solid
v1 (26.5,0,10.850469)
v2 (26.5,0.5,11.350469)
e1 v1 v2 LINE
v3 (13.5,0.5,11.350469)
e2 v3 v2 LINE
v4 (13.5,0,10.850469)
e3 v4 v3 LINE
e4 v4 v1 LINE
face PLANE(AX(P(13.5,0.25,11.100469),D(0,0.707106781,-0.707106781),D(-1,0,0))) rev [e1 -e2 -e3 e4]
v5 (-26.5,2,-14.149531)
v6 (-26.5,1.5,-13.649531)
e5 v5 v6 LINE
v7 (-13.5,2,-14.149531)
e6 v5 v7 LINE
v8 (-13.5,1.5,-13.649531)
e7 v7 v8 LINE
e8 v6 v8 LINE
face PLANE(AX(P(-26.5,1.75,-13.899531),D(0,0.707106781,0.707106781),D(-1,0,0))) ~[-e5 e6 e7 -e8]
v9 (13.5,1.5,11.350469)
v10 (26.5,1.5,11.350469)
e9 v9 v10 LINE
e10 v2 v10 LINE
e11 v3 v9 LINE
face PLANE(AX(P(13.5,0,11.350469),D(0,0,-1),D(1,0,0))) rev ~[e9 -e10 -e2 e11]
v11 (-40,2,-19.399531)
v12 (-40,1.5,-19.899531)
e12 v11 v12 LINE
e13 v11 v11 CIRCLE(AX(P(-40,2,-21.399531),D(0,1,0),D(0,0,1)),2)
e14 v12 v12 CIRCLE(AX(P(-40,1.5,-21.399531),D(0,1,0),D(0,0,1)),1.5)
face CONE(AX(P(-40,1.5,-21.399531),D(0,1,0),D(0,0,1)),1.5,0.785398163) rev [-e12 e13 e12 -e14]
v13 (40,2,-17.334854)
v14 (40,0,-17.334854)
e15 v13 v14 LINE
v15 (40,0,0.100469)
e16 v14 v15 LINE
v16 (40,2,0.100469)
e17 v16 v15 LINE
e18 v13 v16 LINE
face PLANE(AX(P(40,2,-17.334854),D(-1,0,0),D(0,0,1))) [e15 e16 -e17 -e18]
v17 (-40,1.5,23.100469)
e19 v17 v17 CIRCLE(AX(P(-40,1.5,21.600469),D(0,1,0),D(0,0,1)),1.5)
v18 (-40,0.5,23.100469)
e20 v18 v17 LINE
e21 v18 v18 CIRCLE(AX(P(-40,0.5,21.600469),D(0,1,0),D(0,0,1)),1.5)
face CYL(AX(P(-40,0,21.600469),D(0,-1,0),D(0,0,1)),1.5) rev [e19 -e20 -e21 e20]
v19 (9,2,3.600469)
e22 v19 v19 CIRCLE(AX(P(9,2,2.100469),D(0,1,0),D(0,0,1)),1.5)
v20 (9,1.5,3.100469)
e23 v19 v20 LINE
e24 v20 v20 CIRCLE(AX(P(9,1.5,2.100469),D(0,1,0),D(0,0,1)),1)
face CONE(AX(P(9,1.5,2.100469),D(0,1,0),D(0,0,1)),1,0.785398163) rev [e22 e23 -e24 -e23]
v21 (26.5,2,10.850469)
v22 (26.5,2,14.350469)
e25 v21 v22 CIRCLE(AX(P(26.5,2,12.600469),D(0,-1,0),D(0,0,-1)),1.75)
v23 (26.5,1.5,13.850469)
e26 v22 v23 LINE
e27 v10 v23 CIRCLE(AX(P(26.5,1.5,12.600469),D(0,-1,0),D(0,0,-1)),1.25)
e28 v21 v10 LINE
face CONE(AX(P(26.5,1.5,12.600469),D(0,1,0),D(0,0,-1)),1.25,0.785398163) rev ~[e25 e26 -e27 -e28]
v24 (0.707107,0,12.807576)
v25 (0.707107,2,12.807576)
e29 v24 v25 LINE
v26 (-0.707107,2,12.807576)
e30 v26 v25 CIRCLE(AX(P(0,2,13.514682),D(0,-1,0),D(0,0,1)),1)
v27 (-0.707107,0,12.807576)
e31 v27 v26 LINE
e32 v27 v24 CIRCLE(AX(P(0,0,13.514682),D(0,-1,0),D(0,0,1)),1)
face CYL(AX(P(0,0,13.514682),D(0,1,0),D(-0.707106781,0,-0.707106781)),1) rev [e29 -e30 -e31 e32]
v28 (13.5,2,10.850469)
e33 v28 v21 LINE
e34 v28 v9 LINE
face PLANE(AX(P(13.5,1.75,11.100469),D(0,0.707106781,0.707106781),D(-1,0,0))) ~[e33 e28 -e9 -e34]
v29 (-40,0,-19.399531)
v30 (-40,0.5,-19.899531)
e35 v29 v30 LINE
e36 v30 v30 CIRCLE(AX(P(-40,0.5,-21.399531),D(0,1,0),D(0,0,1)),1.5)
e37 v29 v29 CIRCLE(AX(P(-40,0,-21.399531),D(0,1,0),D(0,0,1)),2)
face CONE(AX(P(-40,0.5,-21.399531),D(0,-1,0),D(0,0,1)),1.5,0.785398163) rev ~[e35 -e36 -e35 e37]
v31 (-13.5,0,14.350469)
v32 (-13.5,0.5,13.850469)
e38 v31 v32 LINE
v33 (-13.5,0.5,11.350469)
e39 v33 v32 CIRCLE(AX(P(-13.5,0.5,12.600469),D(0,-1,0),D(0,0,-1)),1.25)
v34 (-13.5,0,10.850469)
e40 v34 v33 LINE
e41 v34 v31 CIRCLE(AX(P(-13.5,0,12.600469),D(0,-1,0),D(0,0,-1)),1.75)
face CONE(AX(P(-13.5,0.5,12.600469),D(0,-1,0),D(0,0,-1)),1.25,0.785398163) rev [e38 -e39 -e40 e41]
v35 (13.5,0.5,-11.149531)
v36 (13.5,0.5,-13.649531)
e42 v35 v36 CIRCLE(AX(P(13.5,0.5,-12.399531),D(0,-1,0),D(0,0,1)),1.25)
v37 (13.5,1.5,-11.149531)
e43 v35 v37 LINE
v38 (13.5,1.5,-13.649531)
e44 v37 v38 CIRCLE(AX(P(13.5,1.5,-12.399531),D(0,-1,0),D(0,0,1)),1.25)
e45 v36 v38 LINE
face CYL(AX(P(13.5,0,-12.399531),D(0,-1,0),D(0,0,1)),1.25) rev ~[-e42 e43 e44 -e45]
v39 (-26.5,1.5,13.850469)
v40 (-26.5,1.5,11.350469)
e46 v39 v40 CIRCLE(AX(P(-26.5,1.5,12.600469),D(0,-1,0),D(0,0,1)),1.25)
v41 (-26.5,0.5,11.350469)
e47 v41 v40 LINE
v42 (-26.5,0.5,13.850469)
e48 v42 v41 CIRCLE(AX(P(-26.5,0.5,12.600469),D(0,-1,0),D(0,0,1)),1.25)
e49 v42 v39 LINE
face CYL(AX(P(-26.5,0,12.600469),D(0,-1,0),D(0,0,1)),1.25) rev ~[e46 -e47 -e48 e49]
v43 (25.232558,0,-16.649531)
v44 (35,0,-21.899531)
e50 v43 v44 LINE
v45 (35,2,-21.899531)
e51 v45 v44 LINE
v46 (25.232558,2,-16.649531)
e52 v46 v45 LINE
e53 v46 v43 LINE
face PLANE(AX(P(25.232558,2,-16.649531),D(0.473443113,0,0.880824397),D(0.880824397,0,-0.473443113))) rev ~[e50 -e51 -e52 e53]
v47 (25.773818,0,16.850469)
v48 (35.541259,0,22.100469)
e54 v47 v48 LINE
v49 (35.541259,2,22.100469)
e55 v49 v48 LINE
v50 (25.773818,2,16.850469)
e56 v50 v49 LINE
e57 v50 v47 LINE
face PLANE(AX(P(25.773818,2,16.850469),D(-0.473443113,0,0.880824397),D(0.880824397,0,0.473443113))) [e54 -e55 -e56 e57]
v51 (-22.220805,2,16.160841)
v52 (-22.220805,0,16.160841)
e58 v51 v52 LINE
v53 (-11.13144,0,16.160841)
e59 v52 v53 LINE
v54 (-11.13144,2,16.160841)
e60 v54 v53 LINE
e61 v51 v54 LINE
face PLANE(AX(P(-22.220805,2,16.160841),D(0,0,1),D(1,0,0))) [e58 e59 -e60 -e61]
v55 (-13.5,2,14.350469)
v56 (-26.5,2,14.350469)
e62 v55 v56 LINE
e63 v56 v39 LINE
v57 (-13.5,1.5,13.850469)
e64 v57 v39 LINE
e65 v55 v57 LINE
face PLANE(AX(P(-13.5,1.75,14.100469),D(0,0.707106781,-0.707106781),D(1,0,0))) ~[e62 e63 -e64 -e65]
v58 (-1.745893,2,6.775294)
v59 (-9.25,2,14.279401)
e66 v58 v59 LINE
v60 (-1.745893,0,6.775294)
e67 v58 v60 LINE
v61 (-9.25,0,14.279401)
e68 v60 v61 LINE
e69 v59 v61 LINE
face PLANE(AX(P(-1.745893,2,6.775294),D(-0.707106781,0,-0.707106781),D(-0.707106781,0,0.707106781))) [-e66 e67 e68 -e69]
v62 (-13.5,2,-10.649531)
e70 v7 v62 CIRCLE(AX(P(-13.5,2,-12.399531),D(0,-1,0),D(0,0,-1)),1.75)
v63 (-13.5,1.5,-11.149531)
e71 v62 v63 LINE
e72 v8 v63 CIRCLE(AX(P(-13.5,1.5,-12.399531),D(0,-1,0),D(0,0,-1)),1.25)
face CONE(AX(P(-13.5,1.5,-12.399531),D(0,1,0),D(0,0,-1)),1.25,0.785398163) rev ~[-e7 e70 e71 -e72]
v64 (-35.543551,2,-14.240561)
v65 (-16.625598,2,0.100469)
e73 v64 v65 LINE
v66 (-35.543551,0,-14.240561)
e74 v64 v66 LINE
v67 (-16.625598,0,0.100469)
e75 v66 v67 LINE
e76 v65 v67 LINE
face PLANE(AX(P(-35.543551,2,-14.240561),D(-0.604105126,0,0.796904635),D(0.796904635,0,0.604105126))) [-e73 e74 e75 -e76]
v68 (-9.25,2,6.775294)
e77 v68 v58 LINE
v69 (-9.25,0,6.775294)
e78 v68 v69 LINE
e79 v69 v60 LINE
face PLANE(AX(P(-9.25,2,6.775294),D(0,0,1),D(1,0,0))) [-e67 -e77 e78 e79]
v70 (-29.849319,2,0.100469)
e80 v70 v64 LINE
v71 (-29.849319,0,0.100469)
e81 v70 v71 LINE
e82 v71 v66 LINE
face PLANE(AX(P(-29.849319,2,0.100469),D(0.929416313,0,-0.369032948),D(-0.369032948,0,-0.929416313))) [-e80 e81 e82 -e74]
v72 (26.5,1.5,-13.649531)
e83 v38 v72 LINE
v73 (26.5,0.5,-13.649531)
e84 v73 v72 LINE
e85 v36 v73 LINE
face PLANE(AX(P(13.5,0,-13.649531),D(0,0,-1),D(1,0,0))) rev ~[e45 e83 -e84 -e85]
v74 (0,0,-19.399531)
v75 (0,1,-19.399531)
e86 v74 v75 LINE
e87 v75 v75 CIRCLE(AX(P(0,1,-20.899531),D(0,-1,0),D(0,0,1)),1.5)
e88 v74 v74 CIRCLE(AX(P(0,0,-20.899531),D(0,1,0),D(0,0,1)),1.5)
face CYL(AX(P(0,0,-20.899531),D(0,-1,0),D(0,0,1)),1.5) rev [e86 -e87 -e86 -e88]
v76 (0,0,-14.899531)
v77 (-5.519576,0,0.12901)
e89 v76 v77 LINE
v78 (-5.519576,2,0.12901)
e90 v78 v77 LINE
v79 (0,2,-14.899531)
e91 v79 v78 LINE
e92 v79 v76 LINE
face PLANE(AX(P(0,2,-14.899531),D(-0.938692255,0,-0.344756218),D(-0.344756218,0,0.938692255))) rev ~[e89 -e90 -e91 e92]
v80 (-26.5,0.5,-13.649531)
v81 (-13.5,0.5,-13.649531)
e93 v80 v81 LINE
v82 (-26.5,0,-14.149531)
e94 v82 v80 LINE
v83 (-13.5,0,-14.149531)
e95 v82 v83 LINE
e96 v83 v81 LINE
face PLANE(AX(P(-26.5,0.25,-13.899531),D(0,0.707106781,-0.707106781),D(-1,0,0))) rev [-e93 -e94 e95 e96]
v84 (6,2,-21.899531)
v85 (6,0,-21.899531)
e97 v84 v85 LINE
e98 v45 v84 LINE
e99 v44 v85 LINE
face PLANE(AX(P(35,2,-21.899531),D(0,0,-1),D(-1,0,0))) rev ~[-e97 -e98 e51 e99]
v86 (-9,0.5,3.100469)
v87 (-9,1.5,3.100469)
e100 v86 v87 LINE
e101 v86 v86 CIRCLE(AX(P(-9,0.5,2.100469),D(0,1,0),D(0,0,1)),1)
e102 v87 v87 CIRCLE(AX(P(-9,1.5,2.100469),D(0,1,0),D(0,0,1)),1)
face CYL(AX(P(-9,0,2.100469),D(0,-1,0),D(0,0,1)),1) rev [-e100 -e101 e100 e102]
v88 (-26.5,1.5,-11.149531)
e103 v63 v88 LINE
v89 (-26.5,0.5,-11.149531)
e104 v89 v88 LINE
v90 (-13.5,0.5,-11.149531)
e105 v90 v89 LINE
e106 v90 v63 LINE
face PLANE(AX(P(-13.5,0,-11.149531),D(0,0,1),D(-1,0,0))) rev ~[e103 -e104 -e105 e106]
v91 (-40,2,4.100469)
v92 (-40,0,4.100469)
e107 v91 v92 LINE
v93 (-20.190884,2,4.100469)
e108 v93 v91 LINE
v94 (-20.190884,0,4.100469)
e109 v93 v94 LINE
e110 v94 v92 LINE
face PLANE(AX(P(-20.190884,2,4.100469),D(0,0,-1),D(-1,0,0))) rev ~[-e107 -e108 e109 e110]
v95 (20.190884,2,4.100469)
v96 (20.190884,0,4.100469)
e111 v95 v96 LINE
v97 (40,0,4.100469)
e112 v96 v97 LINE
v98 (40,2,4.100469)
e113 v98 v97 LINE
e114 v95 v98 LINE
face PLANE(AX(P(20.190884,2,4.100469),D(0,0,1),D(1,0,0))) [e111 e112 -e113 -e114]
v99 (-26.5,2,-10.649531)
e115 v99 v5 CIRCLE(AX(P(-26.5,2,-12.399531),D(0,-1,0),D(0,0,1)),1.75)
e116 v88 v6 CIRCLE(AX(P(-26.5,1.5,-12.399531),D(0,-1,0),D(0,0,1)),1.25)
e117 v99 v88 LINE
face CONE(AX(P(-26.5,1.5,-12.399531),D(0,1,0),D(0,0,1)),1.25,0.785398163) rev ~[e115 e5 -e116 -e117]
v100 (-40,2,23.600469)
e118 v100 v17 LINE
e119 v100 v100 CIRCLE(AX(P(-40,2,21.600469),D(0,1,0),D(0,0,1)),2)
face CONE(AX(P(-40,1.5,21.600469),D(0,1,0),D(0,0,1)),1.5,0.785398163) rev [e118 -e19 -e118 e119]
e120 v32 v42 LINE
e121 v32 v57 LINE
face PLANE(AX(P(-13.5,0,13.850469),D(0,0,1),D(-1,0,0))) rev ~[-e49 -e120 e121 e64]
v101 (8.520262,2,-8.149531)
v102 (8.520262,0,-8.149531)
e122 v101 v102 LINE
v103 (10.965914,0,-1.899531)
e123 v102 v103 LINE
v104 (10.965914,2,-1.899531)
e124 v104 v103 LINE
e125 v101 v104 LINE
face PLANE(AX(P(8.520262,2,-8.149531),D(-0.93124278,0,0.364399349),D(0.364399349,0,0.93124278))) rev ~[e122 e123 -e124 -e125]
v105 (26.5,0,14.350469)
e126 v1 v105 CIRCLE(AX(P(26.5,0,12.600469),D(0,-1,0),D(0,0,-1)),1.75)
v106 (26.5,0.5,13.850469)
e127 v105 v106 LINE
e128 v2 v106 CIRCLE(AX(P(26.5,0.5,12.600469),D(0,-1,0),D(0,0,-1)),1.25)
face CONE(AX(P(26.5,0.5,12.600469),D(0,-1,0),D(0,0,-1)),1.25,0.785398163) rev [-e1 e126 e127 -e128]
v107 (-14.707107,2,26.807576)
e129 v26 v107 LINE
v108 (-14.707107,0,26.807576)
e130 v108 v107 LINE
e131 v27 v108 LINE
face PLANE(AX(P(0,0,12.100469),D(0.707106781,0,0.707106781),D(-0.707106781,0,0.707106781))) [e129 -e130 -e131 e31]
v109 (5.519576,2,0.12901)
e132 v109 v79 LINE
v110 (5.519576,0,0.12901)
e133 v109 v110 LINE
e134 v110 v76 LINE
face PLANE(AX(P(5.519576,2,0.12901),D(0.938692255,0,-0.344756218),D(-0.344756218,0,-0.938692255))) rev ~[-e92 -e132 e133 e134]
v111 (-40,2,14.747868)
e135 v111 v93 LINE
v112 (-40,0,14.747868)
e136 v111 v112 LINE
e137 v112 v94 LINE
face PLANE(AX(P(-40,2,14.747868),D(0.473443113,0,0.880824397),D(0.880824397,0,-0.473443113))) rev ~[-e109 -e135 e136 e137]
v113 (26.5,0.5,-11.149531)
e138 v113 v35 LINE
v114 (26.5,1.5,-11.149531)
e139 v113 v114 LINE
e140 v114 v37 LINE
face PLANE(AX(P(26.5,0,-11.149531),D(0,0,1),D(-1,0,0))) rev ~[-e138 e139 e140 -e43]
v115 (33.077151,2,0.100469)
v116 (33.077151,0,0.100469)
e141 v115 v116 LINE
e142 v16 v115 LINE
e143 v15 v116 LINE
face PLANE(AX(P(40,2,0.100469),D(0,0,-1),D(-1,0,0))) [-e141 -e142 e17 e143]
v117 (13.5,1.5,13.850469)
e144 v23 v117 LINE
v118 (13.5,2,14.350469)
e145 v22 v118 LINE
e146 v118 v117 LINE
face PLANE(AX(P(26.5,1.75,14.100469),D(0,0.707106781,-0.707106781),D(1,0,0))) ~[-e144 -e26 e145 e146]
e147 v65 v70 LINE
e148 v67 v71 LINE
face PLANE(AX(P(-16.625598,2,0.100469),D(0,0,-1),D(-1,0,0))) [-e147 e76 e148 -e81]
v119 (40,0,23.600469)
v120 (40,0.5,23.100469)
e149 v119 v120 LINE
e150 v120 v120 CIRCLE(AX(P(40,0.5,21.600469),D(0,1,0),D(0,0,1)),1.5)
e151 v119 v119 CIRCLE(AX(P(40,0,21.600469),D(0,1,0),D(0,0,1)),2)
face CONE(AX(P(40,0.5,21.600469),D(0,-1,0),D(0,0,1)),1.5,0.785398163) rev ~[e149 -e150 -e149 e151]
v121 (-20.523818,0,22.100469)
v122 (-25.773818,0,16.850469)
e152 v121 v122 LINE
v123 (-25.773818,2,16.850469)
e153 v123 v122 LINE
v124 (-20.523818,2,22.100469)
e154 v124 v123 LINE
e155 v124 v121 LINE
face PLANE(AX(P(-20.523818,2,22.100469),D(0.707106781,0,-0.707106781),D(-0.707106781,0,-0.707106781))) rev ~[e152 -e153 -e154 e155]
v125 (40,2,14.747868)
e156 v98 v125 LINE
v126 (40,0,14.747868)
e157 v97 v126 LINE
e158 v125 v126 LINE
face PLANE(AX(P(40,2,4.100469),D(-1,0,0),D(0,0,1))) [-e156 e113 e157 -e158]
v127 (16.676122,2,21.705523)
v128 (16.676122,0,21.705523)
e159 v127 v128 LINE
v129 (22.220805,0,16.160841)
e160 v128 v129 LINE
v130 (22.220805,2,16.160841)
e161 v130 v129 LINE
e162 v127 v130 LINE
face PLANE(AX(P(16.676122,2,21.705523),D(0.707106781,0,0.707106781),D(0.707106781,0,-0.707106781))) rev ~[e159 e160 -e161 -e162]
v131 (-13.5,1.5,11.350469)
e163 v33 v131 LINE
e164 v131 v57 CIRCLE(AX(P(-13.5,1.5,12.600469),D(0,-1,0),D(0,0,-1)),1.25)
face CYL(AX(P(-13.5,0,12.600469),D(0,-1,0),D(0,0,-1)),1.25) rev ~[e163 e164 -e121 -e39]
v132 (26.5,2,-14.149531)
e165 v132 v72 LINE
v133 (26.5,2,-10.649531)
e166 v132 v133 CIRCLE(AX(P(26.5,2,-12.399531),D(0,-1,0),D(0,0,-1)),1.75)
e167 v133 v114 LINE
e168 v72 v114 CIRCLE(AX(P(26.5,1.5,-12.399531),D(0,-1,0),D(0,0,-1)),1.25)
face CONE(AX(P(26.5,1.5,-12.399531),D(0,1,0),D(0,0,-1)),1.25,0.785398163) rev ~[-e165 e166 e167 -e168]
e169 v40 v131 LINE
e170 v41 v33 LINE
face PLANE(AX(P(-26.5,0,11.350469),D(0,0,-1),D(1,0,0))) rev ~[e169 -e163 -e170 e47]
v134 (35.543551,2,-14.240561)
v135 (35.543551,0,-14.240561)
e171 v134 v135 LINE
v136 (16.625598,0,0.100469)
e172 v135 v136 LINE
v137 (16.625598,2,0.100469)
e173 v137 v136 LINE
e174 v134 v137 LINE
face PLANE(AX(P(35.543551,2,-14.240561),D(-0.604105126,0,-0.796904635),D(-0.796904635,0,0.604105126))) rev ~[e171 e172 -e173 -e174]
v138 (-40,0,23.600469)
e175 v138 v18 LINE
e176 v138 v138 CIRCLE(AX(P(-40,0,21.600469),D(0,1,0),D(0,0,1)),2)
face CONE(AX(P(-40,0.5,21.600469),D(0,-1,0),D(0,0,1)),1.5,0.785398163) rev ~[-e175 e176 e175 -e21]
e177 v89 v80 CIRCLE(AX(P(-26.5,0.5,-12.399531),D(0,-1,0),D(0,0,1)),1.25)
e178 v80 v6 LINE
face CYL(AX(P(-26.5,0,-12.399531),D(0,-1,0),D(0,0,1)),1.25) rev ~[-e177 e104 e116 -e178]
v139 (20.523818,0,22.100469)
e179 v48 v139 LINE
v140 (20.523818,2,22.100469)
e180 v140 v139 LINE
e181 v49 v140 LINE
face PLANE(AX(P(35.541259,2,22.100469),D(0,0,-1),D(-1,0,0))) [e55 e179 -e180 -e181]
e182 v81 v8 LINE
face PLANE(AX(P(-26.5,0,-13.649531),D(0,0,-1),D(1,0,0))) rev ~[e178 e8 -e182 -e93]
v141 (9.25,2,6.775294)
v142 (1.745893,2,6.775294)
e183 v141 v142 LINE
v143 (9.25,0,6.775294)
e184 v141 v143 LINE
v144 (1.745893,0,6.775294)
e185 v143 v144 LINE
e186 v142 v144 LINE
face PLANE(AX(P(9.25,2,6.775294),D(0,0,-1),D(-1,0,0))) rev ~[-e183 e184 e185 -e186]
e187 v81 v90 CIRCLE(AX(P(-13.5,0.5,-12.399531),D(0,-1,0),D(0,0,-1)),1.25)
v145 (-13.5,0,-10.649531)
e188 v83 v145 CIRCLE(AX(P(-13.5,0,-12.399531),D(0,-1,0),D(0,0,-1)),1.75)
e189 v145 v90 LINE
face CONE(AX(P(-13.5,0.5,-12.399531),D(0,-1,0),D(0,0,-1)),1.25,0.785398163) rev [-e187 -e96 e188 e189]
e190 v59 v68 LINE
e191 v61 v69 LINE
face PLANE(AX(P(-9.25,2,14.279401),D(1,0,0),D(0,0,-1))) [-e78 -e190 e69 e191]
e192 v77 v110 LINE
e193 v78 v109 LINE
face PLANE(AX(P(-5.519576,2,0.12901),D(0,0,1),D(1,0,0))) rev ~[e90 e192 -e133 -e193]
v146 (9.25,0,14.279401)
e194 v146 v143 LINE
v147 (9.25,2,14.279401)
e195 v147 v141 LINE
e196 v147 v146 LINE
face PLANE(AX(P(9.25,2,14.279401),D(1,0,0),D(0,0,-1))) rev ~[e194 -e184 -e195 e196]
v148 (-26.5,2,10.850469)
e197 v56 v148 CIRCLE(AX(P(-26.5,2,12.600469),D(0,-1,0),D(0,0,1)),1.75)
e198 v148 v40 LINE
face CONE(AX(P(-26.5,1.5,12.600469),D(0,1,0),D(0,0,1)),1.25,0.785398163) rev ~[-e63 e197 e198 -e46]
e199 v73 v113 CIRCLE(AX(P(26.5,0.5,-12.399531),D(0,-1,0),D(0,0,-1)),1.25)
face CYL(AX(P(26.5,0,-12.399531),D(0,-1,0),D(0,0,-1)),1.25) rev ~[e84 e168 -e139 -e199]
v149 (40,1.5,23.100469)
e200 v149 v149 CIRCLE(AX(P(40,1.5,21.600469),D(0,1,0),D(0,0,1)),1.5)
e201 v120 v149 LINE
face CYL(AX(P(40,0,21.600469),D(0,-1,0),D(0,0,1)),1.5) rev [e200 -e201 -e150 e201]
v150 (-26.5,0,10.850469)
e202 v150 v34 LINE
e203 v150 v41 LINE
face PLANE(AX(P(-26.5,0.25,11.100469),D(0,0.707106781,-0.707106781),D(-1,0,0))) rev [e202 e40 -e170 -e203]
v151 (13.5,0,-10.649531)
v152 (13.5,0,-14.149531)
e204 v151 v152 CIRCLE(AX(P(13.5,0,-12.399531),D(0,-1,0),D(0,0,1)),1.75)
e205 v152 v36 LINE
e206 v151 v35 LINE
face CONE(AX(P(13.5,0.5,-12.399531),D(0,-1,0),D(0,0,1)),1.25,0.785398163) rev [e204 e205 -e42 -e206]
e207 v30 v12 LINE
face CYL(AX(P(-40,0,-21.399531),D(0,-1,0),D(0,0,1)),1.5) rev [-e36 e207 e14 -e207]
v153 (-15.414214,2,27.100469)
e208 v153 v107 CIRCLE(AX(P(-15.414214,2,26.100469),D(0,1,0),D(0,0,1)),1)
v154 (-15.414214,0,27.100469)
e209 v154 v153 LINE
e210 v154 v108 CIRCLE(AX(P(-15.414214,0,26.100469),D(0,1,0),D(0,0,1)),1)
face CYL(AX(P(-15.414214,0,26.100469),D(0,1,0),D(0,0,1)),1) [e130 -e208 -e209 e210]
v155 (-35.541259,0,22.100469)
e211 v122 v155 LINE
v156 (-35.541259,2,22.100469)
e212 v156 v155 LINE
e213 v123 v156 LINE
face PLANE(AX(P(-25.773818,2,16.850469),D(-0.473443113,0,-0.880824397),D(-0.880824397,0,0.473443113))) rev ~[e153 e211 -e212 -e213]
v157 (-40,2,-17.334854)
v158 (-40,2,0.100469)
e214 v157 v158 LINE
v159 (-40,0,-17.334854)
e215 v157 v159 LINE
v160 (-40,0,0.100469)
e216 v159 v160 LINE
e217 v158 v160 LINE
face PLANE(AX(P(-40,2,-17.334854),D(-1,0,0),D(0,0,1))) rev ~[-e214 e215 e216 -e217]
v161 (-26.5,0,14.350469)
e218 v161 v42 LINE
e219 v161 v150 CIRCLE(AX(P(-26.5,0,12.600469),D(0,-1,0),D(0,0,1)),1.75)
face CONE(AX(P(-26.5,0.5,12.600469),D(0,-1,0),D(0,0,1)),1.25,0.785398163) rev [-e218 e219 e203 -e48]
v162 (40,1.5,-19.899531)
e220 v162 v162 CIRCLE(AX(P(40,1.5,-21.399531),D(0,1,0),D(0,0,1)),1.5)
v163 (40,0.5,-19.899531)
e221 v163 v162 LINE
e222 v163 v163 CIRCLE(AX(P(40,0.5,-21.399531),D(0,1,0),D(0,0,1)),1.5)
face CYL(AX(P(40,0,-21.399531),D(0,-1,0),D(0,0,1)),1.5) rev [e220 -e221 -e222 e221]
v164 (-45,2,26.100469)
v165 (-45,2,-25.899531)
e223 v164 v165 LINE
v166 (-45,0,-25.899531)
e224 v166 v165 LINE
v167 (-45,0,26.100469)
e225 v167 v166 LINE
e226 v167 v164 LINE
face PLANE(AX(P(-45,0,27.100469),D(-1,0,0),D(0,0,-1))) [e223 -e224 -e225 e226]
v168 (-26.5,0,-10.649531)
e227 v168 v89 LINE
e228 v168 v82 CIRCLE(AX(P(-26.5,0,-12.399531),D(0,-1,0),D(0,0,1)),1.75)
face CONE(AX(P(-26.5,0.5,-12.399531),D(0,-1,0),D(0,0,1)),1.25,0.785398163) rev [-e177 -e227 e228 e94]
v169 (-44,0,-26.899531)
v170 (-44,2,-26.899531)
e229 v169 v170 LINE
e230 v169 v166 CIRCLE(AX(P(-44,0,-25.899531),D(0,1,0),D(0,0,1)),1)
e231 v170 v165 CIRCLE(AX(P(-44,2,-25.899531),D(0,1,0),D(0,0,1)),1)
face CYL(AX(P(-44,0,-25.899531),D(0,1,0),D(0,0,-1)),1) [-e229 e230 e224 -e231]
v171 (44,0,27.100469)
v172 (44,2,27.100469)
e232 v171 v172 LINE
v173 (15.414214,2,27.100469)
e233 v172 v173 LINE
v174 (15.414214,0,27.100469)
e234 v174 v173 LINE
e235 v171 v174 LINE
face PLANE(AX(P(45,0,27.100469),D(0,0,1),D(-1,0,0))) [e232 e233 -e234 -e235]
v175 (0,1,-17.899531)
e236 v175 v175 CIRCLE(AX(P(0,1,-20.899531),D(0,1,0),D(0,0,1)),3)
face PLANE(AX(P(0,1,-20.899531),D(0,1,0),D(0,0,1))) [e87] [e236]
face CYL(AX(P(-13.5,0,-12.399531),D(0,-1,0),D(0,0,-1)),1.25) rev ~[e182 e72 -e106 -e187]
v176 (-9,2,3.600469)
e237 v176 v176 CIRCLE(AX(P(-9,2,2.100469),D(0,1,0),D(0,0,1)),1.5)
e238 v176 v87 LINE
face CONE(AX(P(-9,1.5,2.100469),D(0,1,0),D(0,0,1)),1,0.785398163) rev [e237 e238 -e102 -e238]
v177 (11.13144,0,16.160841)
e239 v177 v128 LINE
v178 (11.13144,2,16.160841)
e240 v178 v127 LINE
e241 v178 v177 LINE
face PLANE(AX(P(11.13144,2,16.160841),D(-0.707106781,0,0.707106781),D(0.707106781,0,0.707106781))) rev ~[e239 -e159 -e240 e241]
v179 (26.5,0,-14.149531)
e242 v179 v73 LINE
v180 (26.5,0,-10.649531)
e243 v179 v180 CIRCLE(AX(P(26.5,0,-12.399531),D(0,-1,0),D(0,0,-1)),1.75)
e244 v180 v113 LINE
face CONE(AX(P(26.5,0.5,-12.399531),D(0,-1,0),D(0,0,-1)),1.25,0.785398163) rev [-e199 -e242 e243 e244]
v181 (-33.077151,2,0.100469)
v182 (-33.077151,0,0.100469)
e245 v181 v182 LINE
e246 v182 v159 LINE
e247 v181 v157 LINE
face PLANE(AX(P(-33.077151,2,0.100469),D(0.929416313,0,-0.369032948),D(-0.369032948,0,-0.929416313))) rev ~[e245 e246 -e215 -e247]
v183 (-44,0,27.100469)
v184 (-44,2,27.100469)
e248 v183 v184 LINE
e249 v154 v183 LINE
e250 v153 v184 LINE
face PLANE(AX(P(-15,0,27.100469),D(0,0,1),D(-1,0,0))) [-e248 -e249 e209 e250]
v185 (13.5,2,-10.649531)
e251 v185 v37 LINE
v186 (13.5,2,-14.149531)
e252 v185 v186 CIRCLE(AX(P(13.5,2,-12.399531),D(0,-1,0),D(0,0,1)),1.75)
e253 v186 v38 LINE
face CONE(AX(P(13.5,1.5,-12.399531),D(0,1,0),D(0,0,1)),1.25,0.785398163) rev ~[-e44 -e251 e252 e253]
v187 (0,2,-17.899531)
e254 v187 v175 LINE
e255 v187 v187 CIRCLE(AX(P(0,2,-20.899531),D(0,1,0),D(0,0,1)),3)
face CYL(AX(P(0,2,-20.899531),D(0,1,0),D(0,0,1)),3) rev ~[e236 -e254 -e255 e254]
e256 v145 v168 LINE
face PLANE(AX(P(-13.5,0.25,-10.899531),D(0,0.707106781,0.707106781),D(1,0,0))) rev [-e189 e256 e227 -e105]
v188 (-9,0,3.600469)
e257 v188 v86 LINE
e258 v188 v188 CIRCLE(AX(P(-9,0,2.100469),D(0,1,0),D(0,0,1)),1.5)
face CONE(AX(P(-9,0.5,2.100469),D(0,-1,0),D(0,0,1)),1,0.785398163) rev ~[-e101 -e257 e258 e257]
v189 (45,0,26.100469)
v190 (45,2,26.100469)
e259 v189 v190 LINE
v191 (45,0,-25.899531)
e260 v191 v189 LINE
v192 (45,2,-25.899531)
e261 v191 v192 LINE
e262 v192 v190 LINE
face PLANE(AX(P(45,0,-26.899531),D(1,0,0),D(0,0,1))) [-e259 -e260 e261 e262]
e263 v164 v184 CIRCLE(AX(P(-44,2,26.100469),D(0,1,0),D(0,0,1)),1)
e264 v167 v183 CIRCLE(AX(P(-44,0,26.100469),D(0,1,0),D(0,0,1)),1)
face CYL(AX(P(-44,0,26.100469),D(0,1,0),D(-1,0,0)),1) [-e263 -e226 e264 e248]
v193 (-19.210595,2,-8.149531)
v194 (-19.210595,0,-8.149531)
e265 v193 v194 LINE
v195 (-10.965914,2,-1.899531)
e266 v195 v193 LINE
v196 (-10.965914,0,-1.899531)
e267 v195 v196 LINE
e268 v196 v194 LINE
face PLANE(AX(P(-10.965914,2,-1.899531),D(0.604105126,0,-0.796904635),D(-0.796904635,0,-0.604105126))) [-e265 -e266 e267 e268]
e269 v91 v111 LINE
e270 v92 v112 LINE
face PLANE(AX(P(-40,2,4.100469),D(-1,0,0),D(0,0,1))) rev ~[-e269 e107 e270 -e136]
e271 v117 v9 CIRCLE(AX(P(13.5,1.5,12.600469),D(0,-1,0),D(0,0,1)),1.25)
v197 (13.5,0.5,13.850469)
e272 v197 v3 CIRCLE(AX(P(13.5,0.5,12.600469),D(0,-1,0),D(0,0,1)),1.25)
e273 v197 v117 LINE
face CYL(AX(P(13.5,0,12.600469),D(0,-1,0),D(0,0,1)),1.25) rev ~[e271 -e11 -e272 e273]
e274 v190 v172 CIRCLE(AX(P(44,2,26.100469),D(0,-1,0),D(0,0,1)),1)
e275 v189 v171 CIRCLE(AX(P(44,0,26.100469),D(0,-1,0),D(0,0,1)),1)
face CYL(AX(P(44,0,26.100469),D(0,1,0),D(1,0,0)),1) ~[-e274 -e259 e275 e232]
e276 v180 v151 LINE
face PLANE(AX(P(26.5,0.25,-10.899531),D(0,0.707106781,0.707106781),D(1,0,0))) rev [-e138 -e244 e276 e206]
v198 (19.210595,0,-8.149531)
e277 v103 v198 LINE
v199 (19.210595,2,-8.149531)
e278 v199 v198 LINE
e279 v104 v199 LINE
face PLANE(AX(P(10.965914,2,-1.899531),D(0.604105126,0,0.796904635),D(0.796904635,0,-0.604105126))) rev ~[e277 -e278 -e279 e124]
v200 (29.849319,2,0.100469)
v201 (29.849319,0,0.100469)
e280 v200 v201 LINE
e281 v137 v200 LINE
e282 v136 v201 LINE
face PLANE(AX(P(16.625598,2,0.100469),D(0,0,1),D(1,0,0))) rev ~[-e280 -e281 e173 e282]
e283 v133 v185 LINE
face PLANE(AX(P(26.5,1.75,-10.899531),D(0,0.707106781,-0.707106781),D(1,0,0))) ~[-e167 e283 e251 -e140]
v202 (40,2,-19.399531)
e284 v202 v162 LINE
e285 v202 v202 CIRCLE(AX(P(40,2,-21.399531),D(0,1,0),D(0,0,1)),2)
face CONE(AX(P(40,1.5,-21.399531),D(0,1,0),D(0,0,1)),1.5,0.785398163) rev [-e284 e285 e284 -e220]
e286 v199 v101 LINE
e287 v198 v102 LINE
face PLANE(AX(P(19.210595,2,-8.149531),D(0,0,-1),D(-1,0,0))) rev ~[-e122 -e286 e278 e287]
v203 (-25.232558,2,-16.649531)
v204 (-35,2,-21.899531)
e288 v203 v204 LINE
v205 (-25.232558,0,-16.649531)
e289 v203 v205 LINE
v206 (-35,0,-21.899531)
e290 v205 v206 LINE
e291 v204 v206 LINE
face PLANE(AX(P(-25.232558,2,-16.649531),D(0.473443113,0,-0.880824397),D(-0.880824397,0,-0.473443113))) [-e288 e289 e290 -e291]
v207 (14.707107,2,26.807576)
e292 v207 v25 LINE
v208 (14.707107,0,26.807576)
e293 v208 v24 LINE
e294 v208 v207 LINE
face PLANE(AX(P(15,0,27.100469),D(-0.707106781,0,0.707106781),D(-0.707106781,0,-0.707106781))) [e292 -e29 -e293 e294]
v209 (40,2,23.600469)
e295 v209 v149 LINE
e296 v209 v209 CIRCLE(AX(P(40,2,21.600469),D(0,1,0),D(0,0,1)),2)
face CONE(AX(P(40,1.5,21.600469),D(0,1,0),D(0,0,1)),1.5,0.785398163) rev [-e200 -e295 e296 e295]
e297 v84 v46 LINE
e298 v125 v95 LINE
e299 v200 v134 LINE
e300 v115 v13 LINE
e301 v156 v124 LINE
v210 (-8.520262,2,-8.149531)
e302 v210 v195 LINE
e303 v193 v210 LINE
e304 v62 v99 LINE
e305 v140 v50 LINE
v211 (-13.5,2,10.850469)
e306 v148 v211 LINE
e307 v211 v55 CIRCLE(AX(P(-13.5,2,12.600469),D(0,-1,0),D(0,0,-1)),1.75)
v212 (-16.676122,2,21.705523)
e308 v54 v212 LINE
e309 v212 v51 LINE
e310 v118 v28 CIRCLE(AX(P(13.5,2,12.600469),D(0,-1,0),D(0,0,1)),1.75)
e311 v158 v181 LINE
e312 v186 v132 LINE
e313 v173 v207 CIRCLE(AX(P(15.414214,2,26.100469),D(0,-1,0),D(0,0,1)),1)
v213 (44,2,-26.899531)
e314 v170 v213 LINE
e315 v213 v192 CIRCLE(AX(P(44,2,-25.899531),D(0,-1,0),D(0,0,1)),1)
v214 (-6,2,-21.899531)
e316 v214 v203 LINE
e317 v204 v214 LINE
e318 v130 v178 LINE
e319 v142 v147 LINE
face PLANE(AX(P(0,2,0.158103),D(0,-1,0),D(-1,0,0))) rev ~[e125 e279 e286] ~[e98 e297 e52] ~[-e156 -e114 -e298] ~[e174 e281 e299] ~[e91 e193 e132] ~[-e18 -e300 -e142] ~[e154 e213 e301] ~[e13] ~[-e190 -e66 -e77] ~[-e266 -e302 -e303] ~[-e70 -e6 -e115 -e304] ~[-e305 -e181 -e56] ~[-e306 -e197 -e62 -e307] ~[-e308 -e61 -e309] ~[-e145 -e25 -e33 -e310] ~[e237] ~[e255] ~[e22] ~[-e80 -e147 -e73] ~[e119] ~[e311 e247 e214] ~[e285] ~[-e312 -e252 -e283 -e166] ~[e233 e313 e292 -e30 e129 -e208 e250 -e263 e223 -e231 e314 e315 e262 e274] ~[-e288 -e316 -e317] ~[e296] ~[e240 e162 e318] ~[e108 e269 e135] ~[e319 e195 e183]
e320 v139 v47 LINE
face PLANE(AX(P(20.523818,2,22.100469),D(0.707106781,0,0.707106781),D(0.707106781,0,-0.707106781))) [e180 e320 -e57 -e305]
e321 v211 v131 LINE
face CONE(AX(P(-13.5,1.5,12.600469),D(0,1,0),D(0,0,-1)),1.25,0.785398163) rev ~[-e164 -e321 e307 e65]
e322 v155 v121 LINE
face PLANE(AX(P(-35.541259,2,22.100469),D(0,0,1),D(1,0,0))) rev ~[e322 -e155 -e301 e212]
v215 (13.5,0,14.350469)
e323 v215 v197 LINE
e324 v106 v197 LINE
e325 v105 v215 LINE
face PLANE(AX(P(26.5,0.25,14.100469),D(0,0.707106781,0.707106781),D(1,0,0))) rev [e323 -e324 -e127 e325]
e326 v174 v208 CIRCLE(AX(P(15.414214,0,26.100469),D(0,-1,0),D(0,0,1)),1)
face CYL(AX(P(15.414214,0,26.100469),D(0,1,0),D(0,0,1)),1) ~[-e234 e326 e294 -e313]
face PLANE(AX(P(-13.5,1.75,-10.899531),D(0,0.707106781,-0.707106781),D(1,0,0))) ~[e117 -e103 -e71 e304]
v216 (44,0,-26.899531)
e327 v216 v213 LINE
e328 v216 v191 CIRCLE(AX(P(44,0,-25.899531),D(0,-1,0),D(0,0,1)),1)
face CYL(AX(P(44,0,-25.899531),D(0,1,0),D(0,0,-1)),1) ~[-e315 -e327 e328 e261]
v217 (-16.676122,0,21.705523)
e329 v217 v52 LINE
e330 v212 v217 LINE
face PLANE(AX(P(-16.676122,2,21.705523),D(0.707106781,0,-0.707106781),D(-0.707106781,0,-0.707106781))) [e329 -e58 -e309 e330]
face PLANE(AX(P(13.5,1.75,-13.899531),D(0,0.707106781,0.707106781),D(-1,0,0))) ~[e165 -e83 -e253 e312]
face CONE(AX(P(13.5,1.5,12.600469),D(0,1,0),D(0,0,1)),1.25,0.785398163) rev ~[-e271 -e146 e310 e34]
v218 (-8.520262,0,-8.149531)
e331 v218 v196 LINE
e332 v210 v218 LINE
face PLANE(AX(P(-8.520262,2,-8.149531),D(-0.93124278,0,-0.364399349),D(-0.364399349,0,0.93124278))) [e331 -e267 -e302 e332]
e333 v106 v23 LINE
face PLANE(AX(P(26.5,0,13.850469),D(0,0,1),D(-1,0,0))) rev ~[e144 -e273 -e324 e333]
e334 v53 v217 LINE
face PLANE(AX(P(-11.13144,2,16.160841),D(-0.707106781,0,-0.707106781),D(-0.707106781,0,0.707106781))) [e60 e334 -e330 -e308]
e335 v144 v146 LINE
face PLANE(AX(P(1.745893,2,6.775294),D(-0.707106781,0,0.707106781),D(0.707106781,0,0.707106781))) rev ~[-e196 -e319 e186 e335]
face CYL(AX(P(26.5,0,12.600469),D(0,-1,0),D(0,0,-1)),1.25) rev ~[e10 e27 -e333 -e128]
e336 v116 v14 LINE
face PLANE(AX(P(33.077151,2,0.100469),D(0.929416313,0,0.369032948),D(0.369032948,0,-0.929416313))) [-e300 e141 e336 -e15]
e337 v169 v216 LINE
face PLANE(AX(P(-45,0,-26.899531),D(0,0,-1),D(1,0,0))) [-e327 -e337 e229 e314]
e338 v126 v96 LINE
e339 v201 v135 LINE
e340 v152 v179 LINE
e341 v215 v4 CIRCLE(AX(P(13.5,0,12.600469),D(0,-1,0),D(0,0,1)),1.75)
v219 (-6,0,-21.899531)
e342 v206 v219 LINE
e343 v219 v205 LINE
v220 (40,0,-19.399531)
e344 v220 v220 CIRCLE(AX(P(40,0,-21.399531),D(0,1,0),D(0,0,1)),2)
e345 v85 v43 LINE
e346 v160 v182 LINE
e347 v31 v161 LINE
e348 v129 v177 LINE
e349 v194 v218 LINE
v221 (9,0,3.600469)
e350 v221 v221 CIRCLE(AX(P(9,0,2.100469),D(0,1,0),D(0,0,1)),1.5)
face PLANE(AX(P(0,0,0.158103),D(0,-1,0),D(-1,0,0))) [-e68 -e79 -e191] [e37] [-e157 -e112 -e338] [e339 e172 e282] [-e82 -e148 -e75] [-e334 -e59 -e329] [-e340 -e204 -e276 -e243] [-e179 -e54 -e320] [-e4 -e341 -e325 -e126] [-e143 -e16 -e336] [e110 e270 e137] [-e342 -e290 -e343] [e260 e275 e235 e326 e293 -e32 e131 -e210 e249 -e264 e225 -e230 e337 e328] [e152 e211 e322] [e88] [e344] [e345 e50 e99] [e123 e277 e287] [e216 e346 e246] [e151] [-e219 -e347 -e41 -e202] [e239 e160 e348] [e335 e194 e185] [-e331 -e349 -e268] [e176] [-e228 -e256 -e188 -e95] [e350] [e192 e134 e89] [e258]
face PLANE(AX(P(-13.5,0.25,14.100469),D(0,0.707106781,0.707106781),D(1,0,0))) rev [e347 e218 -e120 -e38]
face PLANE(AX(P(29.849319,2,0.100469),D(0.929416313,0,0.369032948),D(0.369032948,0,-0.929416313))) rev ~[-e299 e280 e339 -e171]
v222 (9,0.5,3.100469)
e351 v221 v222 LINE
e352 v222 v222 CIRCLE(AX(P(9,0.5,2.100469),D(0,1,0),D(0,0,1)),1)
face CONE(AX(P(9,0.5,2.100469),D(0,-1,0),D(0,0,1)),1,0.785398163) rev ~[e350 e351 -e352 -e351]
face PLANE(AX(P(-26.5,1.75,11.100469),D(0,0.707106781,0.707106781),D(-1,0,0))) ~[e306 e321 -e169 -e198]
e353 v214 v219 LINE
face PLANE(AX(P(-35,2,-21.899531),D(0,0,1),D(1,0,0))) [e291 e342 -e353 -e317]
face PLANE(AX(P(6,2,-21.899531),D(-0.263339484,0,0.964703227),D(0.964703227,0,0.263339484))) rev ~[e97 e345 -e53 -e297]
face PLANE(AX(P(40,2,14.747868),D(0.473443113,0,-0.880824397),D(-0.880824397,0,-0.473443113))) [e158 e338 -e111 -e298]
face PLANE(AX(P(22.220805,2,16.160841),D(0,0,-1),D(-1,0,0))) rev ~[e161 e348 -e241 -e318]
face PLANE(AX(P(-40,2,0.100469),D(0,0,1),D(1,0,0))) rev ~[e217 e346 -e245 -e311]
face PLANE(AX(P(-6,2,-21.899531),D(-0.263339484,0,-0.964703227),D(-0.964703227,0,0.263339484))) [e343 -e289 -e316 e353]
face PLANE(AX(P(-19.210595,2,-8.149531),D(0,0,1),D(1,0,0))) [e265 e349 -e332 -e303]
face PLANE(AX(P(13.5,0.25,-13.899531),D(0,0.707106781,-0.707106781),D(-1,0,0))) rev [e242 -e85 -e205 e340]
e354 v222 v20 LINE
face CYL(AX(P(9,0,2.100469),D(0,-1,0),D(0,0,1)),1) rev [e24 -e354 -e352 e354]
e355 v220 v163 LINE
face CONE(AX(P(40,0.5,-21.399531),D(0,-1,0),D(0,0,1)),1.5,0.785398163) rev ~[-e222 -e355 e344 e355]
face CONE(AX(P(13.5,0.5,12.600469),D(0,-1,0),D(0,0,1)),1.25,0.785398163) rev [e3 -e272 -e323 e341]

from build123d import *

# Parameters (mm, degrees)
SKETCH_1_R          = 1.5
SKETCH_1_R_2        = 1
EXTRUDE_1_DEPTH     = 2
SKETCH_3_R          = 3
CUT_EXTRUDE_2_DEPTH = 1
CUT_EXTRUDE_3_DEPTH = 2
FILLET_3_R          = 1
CHAMFER_2_SIZE      = 0.5


with BuildPart() as part:
    # 草图1 → 凸台-拉伸1 (new body)
    with BuildSketch(Plane(origin=(0, 0, 0), x_dir=(1, 0, 0), z_dir=(0, 1, 0))):
        Polygon((-45, 26.899531218), (45, 26.899531218), (45, -27.100468782), (15, -27.100468782), (0, -12.100468782), (-15, -27.100468782), (-45, -27.100468782), align=None)
        with Locations(Location((-40, 21.399531218, 0), (0, 0, 270))):
            Circle(SKETCH_1_R, mode=Mode.SUBTRACT)
        with Locations(Location((-40, -21.600468782, 0), (0, 0, 270))):
            Circle(SKETCH_1_R, mode=Mode.SUBTRACT)
        with Locations(Location((40, 21.399531218, 0), (0, 0, 270))):
            Circle(SKETCH_1_R, mode=Mode.SUBTRACT)
        with Locations(Location((40, -21.600468782, 0), (0, 0, 270))):
            Circle(SKETCH_1_R, mode=Mode.SUBTRACT)
        with Locations(Location((-9, -2.100468782, 0), (0, 0, 270))):
            Circle(SKETCH_1_R_2, mode=Mode.SUBTRACT)
        with Locations(Location((9, -2.100468782, 0), (0, 0, 270))):
            Circle(SKETCH_1_R_2, mode=Mode.SUBTRACT)
        with Locations(Location((0, 20.899531218, 0), (0, 0, 270))):
            Circle(SKETCH_1_R, mode=Mode.SUBTRACT)
        with BuildLine():
            Line((-26.5, 13.649531218), (-13.5, 13.649531218))
            ThreePointArc((-13.5, 13.649531218), (-12.25, 12.399531218), (-13.5, 11.149531218))
            Line((-13.5, 11.149531218), (-26.5, 11.149531218))
            ThreePointArc((-26.5, 11.149531218), (-27.75, 12.399531218), (-26.5, 13.649531218))
        make_face(mode=Mode.SUBTRACT)
        with BuildLine():
            Line((-26.5, -11.350468782), (-13.5, -11.350468782))
            ThreePointArc((-13.5, -11.350468782), (-12.25, -12.600468782), (-13.5, -13.850468782))
            Line((-13.5, -13.850468782), (-26.5, -13.850468782))
            ThreePointArc((-26.5, -13.850468782), (-27.75, -12.600468782), (-26.5, -11.350468782))
        make_face(mode=Mode.SUBTRACT)
        with BuildLine():
            Line((13.5, 13.649531218), (26.5, 13.649531218))
            ThreePointArc((26.5, 13.649531218), (27.75, 12.399531218), (26.5, 11.149531218))
            Line((26.5, 11.149531218), (13.5, 11.149531218))
            ThreePointArc((13.5, 11.149531218), (12.25, 12.399531218), (13.5, 13.649531218))
        make_face(mode=Mode.SUBTRACT)
        with BuildLine():
            Line((13.5, -11.350468782), (26.5, -11.350468782))
            ThreePointArc((26.5, -11.350468782), (27.75, -12.600468782), (26.5, -13.850468782))
            Line((26.5, -13.850468782), (13.5, -13.850468782))
            ThreePointArc((13.5, -13.850468782), (12.25, -12.600468782), (13.5, -11.350468782))
        make_face(mode=Mode.SUBTRACT)
    extrude(amount=EXTRUDE_1_DEPTH)

    # 草图3 → 切除-拉伸2 (cut)
    with BuildSketch(Plane(origin=(0, 2, 0), x_dir=(1, 0, 0), z_dir=(0, 1, 0))):
        with Locations(Location((0, 20.899531218, 0), (0, 0, 270))):
            Circle(SKETCH_3_R)
    extrude(amount=-CUT_EXTRUDE_2_DEPTH, mode=Mode.SUBTRACT)

    # 草图2 → 切除-拉伸3 (cut)
    with BuildSketch(Plane(origin=(0, 2, 0), x_dir=(1, 0, 0), z_dir=(0, 1, 0))):
        Polygon((-35.541259455, -22.100468782), (-20.523817595, -22.100468782), (-25.773817595, -16.850468782), align=None)
        Polygon((-16.67612236, -21.70552333), (-22.220805057, -16.160840633), (-11.131439663, -16.160840633), align=None)
        Polygon((-40, -14.747868465), (-20.190884311, -4.100468782), (-40, -4.100468782), align=None)
        Polygon((0, 14.899531218), (-5.519575922, -0.129010379), (5.519575922, -0.129010379), align=None)
        Polygon((-1.745892918, -6.775293888), (-9.25, -14.27940097), (-9.25, -6.775293888), align=None)
        Polygon((-35, 21.899531218), (-6, 21.899531218), (-25.23255814, 16.649531218), align=None)
        Polygon((-29.849319142, -0.100468782), (-35.54355148, 14.240560811), (-16.625597549, -0.100468782), align=None)
        Polygon((-40, 17.334853501), (-40, -0.100468782), (-33.077151446, -0.100468782), align=None)
        Polygon((-19.210594542, 8.149531218), (-8.520261517, 8.149531218), (-10.965913691, 1.899531218), align=None)
        Polygon((9.25, -14.27940097), (9.25, -6.775293888), (1.745892918, -6.775293888), align=None)
        Polygon((22.220805057, -16.160840633), (11.131439663, -16.160840633), (16.67612236, -21.70552333), align=None)
        Polygon((20.523817595, -22.100468782), (25.773817595, -16.850468782), (35.541259455, -22.100468782), align=None)
        Polygon((20.190884311, -4.100468782), (40, -4.100468782), (40, -14.747868465), align=None)
        Polygon((8.520261517, 8.149531218), (10.965913691, 1.899531218), (19.210594542, 8.149531218), align=None)
        Polygon((35.54355148, 14.240560811), (16.625597549, -0.100468782), (29.849319142, -0.100468782), align=None)
        Polygon((40, -0.100468782), (33.077151446, -0.100468782), (40, 17.334853501), align=None)
        Polygon((6, 21.899531218), (25.23255814, 16.649531218), (35, 21.899531218), align=None)
    extrude(amount=-CUT_EXTRUDE_3_DEPTH, mode=Mode.SUBTRACT)

    # 圆角3
    fillet_3_edges = [part.edges().sort_by_distance(p)[0] for p in [
        (-45, 1, -26.899531218),
        (45, 1, -26.899531218),
        (45, 1, 27.100468782),
        (15, 1, 27.100468782),
        (0, 1, 12.100468782),
        (-15, 1, 27.100468782),
        (-45, 1, 27.100468782),
    ]]
    fillet(fillet_3_edges, radius=FILLET_3_R)

    # 倒角2
    chamfer_2_edges = [part.edges().sort_by_distance(p)[0] for p in [
        (-27.75, 0, -12.399531218),
        (-20, 0, -11.149531218),
        (-12.25, 0, -12.399531218),
        (-20, 0, -13.649531218),
        (-27.75, 2, -12.399531218),
        (-20, 2, -11.149531218),
        (-12.25, 2, -12.399531218),
        (-20, 2, -13.649531218),
        (-27.75, 0, 12.600468782),
        (-20, 0, 13.850468782),
        (-12.25, 0, 12.600468782),
        (-20, 0, 11.350468782),
        (-27.75, 2, 12.600468782),
        (-20, 2, 13.850468782),
        (-12.25, 2, 12.600468782),
        (-20, 2, 11.350468782),
        (-9, 0, 1.100468782),
        (-9, 2, 1.100468782),
        (-40, 0, -22.899531218),
        (-40, 2, -22.899531218),
        (-40, 0, 20.100468782),
        (-40, 2, 20.100468782),
        (40, 0, -22.899531218),
        (40, 2, -22.899531218),
        (40, 0, 20.100468782),
        (40, 2, 20.100468782),
        (12.25, 0, -12.399531218),
        (20, 0, -11.149531218),
        (27.75, 0, -12.399531218),
        (20, 0, -13.649531218),
        (12.25, 2, -12.399531218),
        (20, 2, -11.149531218),
        (27.75, 2, -12.399531218),
        (20, 2, -13.649531218),
        (9, 0, 1.100468782),
        (9, 2, 1.100468782),
        (12.25, 0, 12.600468782),
        (20, 0, 13.850468782),
        (27.75, 0, 12.600468782),
        (20, 0, 11.350468782),
        (12.25, 2, 12.600468782),
        (20, 2, 13.850468782),
        (27.75, 2, 12.600468782),
        (20, 2, 11.350468782),
    ]]
    chamfer(chamfer_2_edges, length=CHAMFER_2_SIZE)


solid = part.part
